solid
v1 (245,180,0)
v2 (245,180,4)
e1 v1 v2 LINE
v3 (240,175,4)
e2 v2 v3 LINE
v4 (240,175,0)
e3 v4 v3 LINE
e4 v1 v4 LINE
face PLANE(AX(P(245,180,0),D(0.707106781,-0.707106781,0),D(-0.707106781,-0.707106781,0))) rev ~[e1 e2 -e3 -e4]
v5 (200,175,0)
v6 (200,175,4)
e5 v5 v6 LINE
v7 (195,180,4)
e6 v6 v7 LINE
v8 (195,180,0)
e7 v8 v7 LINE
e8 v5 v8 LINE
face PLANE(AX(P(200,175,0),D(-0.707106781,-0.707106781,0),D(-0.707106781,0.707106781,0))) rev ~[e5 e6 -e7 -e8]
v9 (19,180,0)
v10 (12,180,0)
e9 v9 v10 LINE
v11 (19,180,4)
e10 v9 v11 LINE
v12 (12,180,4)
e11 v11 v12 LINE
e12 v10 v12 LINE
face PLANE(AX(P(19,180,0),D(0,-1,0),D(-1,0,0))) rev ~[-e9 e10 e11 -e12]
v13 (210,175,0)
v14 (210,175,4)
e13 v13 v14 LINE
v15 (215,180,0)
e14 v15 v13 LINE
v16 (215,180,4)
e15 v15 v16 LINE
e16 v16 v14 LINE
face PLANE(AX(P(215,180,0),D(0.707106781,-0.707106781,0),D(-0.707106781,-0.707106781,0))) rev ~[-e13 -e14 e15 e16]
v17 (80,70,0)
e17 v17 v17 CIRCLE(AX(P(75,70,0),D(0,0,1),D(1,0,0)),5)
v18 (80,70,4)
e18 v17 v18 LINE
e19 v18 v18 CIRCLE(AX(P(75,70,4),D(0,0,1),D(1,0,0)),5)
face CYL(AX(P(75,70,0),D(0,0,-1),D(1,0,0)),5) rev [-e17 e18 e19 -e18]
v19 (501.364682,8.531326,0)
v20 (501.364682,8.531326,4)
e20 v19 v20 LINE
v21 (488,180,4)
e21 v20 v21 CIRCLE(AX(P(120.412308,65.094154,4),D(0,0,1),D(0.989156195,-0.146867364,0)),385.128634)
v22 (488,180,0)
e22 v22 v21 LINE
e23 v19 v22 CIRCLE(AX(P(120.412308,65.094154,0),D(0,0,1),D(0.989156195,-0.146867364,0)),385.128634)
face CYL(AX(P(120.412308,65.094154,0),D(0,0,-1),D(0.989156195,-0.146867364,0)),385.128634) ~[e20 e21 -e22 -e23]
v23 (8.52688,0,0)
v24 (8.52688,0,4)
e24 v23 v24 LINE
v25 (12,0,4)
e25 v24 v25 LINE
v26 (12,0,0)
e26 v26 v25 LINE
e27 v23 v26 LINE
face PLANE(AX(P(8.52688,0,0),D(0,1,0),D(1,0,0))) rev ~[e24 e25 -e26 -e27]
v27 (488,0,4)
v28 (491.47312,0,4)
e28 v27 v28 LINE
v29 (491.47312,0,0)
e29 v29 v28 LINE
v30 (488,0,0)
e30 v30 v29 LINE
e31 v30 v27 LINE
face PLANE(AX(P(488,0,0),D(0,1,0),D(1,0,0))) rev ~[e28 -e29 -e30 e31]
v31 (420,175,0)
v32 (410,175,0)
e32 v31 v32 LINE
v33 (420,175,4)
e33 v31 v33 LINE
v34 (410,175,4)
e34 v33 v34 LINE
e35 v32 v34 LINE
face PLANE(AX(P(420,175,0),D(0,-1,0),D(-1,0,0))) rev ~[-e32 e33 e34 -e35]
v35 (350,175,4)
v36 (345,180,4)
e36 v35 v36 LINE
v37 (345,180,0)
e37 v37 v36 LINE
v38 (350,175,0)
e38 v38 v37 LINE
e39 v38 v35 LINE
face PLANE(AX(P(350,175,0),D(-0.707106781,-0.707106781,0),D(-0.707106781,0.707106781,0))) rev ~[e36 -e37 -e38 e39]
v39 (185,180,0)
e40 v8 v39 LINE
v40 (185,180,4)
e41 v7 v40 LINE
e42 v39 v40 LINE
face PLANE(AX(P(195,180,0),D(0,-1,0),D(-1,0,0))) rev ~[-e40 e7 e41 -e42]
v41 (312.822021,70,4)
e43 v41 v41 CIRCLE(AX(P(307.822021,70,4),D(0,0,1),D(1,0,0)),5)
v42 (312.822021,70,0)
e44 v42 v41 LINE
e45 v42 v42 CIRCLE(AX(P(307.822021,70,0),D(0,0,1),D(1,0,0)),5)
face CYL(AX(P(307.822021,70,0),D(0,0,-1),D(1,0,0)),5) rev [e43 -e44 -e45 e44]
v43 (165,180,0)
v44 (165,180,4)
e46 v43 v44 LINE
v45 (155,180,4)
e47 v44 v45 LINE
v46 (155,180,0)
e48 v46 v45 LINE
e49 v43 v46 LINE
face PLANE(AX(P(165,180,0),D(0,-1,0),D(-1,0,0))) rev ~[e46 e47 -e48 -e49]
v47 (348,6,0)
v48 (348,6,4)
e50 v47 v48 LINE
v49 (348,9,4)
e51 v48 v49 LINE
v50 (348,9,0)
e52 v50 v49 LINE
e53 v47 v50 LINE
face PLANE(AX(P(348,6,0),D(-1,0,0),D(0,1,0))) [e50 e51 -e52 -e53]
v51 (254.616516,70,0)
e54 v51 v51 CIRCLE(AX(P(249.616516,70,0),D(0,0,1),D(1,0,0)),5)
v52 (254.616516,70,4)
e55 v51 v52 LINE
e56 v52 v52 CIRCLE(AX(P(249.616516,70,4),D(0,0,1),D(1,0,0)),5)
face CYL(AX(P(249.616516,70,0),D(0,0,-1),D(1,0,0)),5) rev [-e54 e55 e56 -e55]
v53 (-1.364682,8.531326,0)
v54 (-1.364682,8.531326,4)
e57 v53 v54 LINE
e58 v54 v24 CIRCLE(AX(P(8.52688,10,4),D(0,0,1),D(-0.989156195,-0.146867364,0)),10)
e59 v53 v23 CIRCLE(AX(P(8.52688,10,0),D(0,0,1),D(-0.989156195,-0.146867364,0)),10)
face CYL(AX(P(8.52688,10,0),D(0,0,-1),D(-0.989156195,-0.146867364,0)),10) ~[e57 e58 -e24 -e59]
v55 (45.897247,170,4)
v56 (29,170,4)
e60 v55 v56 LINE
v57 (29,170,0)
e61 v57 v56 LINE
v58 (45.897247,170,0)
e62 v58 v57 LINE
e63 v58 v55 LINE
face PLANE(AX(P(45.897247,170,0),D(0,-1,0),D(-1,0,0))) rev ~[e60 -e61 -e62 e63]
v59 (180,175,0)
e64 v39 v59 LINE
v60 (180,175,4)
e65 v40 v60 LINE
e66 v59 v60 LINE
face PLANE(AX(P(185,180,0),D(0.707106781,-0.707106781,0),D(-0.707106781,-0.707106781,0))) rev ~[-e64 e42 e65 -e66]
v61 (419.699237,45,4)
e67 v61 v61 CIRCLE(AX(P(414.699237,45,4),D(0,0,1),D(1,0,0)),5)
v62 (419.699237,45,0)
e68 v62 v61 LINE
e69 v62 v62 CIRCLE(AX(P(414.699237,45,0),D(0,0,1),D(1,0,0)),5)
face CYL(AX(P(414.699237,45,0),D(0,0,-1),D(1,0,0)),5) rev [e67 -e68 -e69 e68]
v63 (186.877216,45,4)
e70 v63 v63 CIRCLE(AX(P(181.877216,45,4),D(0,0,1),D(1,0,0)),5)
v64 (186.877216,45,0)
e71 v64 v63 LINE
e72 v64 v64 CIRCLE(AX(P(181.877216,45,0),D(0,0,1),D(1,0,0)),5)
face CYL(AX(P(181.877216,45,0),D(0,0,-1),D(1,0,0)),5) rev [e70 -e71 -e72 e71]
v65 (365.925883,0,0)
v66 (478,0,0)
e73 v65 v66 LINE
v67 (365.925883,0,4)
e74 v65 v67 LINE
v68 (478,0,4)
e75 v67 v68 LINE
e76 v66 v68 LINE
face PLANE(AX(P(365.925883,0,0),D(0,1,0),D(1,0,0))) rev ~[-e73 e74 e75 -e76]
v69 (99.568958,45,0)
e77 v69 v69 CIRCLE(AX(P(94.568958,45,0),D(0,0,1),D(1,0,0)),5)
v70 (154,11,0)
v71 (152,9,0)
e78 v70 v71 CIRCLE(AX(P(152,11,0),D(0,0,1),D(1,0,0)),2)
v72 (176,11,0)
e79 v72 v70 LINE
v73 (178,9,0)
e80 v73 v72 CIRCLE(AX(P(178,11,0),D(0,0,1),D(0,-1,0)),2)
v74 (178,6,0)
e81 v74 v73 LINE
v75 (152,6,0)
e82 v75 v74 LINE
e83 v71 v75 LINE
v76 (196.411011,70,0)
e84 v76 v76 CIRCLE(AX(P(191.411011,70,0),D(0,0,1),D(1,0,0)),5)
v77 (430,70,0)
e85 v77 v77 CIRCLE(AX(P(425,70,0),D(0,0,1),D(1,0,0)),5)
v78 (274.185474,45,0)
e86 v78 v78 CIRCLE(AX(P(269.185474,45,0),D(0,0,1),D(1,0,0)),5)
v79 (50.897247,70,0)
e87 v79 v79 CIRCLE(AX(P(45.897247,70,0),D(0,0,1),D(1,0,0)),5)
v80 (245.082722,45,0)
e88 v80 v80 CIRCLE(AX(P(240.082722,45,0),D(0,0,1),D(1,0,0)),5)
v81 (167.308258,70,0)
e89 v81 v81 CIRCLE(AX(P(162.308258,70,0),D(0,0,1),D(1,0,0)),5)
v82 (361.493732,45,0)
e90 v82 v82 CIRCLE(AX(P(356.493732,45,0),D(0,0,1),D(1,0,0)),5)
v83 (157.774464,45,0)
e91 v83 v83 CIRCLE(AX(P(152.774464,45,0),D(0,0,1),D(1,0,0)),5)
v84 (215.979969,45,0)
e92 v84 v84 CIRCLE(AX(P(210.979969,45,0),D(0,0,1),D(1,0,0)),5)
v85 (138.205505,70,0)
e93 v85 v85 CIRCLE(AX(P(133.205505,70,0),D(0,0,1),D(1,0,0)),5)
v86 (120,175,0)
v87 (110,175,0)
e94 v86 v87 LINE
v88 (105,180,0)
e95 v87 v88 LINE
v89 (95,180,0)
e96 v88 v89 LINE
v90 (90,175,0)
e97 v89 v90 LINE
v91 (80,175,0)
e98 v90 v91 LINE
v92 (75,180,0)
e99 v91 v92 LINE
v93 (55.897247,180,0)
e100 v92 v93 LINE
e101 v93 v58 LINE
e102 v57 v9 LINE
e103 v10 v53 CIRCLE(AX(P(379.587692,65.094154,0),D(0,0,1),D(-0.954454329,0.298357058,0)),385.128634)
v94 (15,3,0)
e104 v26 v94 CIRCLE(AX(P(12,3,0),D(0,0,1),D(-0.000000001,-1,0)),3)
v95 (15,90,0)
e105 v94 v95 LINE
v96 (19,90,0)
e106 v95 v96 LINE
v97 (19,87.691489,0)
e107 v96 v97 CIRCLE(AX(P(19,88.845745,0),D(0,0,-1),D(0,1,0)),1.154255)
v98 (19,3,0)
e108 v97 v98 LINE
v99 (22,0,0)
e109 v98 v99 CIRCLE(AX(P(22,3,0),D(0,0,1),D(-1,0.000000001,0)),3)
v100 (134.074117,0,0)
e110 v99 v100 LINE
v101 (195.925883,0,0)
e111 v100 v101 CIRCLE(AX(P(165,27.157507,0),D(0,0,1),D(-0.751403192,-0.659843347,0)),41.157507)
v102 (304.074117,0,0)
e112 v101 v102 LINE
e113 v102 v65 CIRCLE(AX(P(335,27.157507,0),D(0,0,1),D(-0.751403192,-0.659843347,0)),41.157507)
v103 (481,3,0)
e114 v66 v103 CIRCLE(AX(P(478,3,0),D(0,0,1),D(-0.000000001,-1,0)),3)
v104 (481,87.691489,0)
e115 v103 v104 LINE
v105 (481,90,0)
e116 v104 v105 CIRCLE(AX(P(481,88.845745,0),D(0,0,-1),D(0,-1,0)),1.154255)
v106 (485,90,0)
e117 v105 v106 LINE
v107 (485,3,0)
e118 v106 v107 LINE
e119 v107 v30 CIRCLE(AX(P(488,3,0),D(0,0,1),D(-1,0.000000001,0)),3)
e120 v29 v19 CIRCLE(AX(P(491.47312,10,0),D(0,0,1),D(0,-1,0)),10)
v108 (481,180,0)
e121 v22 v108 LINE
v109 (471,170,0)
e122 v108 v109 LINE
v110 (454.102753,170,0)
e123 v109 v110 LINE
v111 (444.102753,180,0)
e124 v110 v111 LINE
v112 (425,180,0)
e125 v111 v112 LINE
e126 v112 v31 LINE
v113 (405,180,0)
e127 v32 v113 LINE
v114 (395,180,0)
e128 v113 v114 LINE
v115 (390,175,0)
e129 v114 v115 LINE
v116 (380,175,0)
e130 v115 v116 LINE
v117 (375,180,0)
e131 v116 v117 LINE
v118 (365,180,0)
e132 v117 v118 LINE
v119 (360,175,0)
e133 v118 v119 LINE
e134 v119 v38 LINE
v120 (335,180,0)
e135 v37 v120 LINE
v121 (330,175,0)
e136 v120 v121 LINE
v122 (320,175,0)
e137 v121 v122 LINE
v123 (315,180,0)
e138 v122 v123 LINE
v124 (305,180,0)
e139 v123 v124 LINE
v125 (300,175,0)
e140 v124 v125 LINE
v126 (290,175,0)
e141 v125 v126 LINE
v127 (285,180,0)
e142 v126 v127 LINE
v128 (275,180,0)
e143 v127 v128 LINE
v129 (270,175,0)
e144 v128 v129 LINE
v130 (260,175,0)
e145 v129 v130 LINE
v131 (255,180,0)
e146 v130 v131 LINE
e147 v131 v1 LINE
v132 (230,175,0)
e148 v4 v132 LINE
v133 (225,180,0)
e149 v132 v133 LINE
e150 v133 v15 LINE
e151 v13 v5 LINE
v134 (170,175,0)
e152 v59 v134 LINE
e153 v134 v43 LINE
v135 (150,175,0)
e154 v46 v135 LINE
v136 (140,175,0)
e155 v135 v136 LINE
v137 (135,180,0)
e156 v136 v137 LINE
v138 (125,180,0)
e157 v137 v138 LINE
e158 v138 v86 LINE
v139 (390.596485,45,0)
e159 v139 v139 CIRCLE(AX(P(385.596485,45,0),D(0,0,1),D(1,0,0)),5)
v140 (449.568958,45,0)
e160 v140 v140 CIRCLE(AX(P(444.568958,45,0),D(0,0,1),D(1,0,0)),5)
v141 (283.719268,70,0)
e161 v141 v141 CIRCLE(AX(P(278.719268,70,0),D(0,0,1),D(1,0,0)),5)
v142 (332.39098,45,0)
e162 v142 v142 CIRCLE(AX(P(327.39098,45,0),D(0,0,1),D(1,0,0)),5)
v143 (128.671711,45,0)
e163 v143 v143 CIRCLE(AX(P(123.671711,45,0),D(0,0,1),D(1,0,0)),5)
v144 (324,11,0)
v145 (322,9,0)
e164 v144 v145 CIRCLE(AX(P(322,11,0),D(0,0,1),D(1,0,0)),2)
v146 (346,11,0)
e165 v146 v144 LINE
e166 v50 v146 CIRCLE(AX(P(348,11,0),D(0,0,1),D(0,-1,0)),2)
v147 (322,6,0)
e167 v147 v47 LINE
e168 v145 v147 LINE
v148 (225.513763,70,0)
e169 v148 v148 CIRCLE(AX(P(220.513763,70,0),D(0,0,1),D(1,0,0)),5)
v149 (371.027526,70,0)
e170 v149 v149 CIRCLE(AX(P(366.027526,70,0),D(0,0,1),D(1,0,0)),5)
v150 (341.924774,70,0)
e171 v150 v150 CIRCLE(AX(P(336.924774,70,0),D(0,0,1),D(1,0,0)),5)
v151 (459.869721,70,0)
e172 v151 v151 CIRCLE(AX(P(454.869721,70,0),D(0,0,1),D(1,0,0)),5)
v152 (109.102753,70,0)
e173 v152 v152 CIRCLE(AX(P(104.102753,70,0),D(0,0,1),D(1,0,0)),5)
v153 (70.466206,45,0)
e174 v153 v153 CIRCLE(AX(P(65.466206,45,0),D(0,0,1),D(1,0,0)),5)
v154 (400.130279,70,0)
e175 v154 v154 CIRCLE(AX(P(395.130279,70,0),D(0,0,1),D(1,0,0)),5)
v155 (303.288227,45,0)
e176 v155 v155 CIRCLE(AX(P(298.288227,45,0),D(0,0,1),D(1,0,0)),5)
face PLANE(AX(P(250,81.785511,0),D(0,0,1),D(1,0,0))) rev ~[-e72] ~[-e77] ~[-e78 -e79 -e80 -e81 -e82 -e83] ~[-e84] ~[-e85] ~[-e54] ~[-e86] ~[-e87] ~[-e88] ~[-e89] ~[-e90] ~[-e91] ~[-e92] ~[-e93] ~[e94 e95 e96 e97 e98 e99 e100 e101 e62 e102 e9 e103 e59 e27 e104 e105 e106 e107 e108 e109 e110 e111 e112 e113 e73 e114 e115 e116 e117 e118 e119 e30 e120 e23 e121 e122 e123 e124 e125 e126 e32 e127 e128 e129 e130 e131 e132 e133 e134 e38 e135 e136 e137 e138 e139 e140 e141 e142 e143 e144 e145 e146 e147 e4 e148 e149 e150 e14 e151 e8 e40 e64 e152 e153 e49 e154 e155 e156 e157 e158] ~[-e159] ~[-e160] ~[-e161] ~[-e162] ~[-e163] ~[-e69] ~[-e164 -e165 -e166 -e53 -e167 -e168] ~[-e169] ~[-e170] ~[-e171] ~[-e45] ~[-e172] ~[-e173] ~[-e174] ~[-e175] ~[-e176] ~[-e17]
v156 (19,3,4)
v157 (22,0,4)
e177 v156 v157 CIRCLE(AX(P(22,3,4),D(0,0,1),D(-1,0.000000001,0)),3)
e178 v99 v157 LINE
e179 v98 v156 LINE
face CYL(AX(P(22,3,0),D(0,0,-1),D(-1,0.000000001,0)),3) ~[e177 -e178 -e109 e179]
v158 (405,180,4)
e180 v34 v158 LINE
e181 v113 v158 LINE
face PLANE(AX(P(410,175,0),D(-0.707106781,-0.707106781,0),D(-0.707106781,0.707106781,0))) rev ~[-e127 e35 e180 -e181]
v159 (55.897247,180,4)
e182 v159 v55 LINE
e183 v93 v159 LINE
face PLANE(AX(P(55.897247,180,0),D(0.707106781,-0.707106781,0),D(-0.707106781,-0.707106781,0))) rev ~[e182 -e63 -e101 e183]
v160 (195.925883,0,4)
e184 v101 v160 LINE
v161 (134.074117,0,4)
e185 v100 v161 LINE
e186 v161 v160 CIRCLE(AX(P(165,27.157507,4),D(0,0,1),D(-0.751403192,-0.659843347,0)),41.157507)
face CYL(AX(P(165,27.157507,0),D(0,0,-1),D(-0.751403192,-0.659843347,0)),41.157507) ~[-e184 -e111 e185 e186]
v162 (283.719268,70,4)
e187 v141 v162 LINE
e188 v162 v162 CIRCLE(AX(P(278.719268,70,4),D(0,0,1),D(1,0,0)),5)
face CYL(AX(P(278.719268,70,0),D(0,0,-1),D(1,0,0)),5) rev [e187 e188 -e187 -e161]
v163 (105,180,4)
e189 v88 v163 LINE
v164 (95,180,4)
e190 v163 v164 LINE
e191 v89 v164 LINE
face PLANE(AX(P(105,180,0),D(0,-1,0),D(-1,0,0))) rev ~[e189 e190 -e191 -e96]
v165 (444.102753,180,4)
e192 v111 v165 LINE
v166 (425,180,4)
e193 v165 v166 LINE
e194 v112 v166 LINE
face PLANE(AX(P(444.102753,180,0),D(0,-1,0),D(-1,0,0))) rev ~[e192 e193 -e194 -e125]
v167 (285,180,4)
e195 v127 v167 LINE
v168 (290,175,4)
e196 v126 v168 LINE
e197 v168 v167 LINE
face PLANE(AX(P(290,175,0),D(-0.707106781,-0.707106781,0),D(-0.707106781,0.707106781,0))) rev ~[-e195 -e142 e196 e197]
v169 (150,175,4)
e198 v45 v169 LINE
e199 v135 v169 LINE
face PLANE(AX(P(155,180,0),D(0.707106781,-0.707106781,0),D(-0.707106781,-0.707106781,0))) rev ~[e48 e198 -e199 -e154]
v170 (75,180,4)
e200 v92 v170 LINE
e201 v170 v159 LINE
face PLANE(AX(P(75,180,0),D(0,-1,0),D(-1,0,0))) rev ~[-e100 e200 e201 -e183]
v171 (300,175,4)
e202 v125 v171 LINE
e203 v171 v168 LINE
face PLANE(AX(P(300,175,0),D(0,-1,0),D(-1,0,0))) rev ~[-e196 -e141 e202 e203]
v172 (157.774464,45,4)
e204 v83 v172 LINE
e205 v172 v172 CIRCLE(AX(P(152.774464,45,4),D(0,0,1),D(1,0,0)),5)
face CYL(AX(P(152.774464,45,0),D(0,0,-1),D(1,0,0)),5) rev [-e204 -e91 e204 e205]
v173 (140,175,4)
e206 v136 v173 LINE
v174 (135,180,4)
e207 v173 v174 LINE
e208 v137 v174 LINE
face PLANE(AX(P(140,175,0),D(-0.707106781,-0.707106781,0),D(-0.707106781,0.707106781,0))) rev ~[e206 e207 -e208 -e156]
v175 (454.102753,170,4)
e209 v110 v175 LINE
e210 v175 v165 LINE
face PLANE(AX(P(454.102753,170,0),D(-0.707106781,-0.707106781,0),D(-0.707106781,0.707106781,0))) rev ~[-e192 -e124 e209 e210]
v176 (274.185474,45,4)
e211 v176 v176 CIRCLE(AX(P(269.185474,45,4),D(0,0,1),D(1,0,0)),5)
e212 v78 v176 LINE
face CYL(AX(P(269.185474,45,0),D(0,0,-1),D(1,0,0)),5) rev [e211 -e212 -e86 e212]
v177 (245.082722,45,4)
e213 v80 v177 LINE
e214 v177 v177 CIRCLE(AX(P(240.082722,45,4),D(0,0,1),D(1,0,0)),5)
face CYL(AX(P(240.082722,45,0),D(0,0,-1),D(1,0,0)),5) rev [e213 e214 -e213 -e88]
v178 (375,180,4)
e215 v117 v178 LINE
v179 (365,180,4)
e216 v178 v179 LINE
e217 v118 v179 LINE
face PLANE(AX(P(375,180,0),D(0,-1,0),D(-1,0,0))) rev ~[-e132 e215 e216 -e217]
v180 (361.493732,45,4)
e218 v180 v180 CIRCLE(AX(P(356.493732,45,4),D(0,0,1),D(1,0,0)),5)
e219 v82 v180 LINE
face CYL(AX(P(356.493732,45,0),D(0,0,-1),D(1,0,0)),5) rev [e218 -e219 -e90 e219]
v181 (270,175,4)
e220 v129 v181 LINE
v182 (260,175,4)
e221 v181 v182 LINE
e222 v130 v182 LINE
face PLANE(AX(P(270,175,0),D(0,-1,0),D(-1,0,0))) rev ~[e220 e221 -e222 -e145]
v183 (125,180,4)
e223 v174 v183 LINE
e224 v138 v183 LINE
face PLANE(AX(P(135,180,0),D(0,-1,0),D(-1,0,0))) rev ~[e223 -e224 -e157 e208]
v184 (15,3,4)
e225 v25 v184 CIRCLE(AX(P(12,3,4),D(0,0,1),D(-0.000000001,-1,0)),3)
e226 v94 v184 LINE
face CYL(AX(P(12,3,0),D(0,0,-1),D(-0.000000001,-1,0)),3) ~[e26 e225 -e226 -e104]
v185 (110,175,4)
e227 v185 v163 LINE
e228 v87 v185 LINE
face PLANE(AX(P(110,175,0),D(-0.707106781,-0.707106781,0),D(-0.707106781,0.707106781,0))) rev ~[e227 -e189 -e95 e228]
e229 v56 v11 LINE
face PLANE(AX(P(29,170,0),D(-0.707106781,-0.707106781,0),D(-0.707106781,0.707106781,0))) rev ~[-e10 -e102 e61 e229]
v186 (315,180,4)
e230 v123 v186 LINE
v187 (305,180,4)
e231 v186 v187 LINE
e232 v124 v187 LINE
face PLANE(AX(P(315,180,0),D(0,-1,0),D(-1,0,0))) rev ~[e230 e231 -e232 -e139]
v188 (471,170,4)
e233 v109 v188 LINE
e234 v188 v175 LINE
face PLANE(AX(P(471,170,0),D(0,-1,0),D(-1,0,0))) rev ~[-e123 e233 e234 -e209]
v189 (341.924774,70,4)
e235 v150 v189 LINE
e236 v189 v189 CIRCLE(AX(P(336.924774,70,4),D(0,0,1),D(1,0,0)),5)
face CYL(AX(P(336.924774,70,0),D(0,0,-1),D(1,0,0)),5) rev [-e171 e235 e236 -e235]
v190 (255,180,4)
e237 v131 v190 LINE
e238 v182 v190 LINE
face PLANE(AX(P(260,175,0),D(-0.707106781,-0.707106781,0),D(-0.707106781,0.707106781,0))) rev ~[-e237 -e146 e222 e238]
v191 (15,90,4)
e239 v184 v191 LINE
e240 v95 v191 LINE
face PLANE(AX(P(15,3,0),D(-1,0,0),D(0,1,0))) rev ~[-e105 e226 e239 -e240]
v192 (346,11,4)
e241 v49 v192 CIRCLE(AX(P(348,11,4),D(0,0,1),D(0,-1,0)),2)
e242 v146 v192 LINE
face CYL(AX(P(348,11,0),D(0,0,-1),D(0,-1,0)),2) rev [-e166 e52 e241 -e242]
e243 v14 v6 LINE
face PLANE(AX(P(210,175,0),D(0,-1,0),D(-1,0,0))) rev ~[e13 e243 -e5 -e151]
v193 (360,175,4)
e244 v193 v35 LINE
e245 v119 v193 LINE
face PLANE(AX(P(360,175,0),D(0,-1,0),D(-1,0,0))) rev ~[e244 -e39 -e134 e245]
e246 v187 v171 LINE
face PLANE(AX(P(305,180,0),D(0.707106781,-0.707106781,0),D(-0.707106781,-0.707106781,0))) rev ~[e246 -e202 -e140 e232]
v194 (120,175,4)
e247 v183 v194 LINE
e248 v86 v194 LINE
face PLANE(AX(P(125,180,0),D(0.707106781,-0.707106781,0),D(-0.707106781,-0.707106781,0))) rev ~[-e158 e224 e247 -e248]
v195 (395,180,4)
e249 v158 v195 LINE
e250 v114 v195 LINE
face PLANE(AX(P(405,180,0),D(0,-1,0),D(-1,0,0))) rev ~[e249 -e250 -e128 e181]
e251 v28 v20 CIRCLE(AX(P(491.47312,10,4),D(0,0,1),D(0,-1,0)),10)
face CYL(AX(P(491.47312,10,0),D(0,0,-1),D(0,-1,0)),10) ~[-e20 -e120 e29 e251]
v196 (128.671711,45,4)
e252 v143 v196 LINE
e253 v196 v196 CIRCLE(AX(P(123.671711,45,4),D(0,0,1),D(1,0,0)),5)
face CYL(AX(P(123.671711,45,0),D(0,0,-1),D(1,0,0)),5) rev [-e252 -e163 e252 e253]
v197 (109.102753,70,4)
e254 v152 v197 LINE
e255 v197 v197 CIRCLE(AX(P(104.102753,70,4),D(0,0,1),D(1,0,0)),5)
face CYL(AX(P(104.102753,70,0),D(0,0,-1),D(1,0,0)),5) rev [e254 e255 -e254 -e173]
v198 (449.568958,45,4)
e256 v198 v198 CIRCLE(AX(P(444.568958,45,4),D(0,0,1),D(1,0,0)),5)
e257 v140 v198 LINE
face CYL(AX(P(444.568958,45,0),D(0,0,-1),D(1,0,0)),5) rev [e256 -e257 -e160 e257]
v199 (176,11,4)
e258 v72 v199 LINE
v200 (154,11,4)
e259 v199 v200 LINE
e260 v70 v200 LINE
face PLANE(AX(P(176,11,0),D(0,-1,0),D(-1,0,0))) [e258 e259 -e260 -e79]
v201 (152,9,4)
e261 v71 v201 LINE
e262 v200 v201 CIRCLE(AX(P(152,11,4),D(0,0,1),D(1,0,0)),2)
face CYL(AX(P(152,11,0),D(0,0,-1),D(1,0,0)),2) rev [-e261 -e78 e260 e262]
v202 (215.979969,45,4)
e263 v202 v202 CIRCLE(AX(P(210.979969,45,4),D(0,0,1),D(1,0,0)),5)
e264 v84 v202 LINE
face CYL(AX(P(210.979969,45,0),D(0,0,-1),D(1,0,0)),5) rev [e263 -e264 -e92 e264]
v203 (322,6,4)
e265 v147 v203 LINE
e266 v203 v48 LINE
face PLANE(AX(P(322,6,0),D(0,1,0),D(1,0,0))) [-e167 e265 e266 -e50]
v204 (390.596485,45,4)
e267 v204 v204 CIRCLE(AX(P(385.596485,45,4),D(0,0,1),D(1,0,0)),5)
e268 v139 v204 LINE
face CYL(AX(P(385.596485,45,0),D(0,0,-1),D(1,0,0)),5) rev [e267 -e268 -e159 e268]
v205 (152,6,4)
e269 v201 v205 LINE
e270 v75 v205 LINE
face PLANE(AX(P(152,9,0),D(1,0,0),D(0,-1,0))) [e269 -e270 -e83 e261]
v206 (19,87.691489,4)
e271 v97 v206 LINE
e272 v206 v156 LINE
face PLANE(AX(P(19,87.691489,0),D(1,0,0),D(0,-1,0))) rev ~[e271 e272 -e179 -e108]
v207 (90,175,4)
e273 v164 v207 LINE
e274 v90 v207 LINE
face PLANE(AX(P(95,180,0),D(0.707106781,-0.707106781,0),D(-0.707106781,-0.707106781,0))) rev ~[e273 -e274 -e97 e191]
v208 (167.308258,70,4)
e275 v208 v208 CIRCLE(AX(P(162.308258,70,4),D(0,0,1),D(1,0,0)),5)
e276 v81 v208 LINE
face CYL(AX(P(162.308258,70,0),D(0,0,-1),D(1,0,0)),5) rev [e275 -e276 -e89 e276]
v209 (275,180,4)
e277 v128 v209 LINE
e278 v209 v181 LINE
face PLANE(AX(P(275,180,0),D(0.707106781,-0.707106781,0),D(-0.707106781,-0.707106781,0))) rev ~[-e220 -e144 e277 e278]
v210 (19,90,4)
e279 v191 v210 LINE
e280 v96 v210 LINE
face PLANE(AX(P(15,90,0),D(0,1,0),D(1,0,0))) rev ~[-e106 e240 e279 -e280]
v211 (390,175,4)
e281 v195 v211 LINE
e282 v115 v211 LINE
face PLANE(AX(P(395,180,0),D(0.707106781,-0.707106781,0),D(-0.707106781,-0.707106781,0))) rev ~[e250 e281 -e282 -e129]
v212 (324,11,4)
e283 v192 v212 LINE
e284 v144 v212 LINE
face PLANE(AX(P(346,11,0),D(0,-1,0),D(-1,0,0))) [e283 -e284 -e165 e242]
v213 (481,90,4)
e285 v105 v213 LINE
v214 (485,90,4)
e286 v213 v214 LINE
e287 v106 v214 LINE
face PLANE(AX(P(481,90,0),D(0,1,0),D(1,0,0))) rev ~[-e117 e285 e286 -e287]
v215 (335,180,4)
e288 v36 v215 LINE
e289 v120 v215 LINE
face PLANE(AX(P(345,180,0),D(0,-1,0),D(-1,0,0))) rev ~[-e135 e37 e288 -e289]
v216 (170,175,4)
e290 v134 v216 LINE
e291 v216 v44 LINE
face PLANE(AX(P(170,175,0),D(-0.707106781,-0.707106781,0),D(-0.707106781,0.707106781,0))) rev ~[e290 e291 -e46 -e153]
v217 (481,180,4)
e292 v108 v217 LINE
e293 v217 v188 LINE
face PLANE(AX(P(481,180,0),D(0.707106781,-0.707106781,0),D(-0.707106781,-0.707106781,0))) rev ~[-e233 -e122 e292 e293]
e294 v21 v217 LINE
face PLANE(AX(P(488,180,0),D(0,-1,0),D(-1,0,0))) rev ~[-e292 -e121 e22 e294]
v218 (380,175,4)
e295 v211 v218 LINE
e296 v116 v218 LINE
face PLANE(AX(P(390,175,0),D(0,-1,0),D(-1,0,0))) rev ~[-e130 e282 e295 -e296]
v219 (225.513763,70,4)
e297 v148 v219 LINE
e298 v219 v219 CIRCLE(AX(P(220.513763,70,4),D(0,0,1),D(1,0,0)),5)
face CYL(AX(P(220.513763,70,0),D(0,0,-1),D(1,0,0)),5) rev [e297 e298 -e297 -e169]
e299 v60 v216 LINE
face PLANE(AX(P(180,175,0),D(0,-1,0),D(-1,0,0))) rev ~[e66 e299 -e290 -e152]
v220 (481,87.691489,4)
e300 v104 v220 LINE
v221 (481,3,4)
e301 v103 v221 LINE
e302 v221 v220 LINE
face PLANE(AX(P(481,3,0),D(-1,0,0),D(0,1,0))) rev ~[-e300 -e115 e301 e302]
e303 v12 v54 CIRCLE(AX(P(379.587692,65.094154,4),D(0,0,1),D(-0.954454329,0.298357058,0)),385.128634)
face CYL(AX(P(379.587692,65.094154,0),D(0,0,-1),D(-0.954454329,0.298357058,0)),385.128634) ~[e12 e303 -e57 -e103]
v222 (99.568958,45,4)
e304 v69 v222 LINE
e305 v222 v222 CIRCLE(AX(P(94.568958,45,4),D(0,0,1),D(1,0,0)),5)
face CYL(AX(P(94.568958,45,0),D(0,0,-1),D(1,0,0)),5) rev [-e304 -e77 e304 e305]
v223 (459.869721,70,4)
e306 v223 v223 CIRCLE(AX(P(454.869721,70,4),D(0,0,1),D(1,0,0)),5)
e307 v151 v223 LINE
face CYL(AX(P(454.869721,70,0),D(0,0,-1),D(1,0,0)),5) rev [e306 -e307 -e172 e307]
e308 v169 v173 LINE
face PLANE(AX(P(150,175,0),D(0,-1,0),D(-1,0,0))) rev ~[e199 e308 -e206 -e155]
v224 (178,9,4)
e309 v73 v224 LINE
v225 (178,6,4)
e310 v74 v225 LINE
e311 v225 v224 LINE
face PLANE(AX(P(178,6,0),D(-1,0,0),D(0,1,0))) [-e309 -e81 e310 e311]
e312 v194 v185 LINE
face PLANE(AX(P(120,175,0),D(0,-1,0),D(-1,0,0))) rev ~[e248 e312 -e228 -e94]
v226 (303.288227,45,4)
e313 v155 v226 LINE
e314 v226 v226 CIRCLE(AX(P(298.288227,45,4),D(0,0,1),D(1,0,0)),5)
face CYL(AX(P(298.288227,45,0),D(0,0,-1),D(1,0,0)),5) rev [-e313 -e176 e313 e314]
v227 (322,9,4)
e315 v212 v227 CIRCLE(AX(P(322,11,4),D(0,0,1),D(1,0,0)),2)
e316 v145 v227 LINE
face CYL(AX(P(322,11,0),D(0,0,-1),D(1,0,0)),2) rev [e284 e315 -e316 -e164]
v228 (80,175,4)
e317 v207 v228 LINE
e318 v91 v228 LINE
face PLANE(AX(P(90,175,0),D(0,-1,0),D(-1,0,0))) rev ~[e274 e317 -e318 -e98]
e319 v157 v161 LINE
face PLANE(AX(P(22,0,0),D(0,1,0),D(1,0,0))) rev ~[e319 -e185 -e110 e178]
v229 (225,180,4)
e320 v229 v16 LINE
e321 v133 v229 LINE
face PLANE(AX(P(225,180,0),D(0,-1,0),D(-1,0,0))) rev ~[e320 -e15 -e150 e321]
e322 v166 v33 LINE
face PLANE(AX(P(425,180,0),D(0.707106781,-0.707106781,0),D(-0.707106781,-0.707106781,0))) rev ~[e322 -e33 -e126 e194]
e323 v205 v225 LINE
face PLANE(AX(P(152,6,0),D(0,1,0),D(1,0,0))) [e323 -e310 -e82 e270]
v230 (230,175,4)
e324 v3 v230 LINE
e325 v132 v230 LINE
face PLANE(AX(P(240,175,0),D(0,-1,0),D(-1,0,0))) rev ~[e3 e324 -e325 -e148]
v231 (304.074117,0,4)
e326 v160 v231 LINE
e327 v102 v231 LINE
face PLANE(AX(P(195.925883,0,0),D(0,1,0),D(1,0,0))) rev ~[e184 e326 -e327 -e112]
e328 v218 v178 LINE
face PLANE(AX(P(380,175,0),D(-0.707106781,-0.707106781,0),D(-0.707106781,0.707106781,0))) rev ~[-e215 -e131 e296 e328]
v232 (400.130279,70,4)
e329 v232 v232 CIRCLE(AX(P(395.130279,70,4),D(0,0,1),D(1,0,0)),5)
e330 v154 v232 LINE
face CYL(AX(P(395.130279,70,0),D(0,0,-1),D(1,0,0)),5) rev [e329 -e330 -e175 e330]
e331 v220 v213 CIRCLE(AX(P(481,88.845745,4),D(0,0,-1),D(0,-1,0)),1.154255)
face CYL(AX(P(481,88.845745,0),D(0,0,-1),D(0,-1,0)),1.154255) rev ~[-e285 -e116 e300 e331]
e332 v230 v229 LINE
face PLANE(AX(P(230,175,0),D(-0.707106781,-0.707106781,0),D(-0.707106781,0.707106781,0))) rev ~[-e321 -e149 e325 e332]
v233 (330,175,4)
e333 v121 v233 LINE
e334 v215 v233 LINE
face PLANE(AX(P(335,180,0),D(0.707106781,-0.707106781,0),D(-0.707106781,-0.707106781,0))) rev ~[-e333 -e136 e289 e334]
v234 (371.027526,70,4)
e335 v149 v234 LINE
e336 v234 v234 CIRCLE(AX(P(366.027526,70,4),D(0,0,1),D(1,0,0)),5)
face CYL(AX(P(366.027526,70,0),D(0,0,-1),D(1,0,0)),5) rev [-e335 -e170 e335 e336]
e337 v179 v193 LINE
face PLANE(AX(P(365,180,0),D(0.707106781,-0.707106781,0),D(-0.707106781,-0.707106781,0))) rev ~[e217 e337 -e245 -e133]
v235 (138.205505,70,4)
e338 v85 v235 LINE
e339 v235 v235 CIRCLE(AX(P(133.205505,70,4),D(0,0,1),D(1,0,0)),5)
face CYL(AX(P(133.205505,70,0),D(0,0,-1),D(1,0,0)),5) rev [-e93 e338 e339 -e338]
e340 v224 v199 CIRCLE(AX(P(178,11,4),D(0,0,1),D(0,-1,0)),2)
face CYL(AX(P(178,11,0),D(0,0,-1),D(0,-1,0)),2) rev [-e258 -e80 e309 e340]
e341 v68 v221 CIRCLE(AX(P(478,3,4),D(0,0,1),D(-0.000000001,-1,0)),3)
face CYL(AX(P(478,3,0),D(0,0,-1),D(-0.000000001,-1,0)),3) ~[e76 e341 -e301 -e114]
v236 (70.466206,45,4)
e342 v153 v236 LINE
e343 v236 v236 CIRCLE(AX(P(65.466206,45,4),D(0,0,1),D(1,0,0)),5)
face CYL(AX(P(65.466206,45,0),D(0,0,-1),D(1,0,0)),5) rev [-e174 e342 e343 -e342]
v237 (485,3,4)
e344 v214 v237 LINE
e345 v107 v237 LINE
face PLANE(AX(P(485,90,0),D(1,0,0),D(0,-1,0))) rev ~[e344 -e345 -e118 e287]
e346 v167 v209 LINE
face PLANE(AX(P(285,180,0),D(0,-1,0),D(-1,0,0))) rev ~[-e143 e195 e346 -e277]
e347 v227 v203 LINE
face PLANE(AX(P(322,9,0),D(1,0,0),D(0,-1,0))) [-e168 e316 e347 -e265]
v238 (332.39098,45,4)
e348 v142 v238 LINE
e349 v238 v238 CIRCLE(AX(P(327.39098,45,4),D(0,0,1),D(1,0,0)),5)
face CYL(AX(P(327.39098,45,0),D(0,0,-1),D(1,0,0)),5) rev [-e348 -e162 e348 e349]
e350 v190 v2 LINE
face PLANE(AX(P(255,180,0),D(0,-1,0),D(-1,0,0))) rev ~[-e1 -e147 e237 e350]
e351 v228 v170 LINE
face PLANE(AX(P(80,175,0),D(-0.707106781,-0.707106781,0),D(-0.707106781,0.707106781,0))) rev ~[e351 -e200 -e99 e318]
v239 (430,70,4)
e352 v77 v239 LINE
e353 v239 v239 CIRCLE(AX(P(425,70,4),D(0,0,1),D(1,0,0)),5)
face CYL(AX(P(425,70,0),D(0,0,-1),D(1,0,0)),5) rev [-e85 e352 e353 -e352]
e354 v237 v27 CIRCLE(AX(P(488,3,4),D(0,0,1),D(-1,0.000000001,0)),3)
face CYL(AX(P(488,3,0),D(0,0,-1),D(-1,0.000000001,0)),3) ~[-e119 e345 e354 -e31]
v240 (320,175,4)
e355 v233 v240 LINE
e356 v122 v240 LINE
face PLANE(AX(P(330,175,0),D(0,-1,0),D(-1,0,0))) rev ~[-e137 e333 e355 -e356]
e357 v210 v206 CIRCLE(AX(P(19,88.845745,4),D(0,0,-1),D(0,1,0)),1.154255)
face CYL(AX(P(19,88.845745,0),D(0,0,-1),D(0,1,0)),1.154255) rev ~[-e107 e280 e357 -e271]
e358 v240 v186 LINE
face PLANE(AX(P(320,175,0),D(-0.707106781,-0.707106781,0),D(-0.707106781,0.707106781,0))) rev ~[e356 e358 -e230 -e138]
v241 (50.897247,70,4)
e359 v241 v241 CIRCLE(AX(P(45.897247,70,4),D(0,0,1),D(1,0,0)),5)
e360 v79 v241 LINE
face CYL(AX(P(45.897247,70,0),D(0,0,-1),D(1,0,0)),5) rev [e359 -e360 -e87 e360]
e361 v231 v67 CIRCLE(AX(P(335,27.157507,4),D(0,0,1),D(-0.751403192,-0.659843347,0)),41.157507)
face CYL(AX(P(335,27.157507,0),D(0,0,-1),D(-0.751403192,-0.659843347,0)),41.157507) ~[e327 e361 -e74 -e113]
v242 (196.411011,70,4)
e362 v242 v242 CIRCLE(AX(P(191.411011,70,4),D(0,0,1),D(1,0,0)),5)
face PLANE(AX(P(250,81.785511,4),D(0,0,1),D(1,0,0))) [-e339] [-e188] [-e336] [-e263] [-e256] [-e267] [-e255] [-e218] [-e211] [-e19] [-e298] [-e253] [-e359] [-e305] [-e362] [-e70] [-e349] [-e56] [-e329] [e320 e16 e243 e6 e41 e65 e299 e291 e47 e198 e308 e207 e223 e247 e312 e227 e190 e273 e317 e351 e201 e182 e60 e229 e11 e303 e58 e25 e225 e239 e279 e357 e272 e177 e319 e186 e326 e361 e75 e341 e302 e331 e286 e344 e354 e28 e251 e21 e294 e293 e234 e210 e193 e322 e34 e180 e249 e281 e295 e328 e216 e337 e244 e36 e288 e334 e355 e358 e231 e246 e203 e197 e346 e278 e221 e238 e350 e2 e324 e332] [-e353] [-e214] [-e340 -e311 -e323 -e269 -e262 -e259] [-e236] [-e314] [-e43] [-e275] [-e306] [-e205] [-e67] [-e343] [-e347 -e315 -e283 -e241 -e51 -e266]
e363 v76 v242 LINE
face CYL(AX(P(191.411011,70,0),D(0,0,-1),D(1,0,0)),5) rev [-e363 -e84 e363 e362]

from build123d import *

# Parameters (mm, degrees)
SKETCH_1_R      = 5
EXTRUDE_1_DEPTH = 4


with BuildPart() as part:
    # Эскиз1 → Бобышка-Вытянуть1 (new body)
    with BuildSketch(Plane.XY):
        with BuildLine():
            Line((8.526879851, 0), (12, 0))
            ThreePointArc((12, 0), (14.121320344, 0.878679656), (15, 3))
            Line((15, 3), (15, 90))
            Line((15, 90), (19, 90))
            ThreePointArc((19, 90), (20.154255418, 88.845744582), (19, 87.691489165))
            Line((19, 87.691489165), (19, 3))
            ThreePointArc((19, 3), (19.878679656, 0.878679656), (22, 0))
            Line((22, 0), (134.07411748, 0))
            ThreePointArc((134.07411748, 0), (165, -14), (195.92588252, 0))
            Line((195.92588252, 0), (304.07411748, 0))
            ThreePointArc((304.07411748, 0), (335, -14), (365.92588252, 0))
            Line((365.92588252, 0), (478, 0))
            ThreePointArc((478, 0), (480.121320344, 0.878679656), (481, 3))
            Line((481, 3), (481, 87.691489165))
            ThreePointArc((481, 87.691489165), (479.845744582, 88.845744582), (481, 90))
            Line((481, 90), (485, 90))
            Line((485, 90), (485, 3))
            ThreePointArc((485, 3), (485.878679656, 0.878679656), (488, 0))
            Line((488, 0), (491.473120149, 0))
            ThreePointArc((491.473120149, 0), (498.004324615, 2.427459592), (501.364682095, 8.531326355))
            ThreePointArc((501.364682095, 8.531326355), (504.376413281, 95.021242555), (488, 180))
            Line((488, 180), (481, 180))
            Line((481, 180), (471, 170))
            Line((471, 170), (454.102752641, 170))
            Line((454.102752641, 170), (444.102752641, 180))
            Line((444.102752641, 180), (425, 180))
            Line((425, 180), (420, 175))
            Line((420, 175), (410, 175))
            Line((410, 175), (405, 180))
            Line((405, 180), (395, 180))
            Line((395, 180), (390, 175))
            Line((390, 175), (380, 175))
            Line((380, 175), (375, 180))
            Line((375, 180), (365, 180))
            Line((365, 180), (360, 175))
            Line((360, 175), (350, 175))
            Line((350, 175), (345, 180))
            Line((345, 180), (335, 180))
            Line((335, 180), (330, 175))
            Line((330, 175), (320, 175))
            Line((320, 175), (315, 180))
            Line((315, 180), (305, 180))
            Line((305, 180), (300, 175))
            Line((300, 175), (290, 175))
            Line((290, 175), (285, 180))
            Line((285, 180), (275, 180))
            Line((275, 180), (270, 175))
            Line((270, 175), (260, 175))
            Line((260, 175), (255, 180))
            Line((255, 180), (245, 180))
            Line((245, 180), (240, 175))
            Line((240, 175), (230, 175))
            Line((230, 175), (225, 180))
            Line((225, 180), (215, 180))
            Line((215, 180), (210, 175))
            Line((210, 175), (200, 175))
            Line((200, 175), (195, 180))
            Line((195, 180), (185, 180))
            Line((185, 180), (180, 175))
            Line((180, 175), (170, 175))
            Line((170, 175), (165, 180))
            Line((165, 180), (155, 180))
            Line((155, 180), (150, 175))
            Line((150, 175), (140, 175))
            Line((140, 175), (135, 180))
            Line((135, 180), (125, 180))
            Line((125, 180), (120, 175))
            Line((120, 175), (110, 175))
            Line((110, 175), (105, 180))
            Line((105, 180), (95, 180))
            Line((95, 180), (90, 175))
            Line((90, 175), (80, 175))
            Line((80, 175), (75, 180))
            Line((75, 180), (55.897247359, 180))
            Line((55.897247359, 180), (45.897247359, 170))
            Line((45.897247359, 170), (29, 170))
            Line((29, 170), (19, 180))
            Line((19, 180), (12, 180))
            ThreePointArc((12, 180), (-4.376413281, 95.021242555), (-1.364682095, 8.531326355))
            ThreePointArc((-1.364682095, 8.531326355), (1.995675385, 2.427459592), (8.526879851, 0))
        make_face()
        with Locations((45.897247359, 70)):
            Circle(SKETCH_1_R, mode=Mode.SUBTRACT)
        with Locations((65.46620575, 45)):
            Circle(SKETCH_1_R, mode=Mode.SUBTRACT)
        with Locations((75, 70)):
            Circle(SKETCH_1_R, mode=Mode.SUBTRACT)
        with Locations((94.568958391, 45)):
            Circle(SKETCH_1_R, mode=Mode.SUBTRACT)
        with Locations((104.102752641, 70)):
            Circle(SKETCH_1_R, mode=Mode.SUBTRACT)
        with Locations((123.671711032, 45)):
            Circle(SKETCH_1_R, mode=Mode.SUBTRACT)
        with Locations((133.205505282, 70)):
            Circle(SKETCH_1_R, mode=Mode.SUBTRACT)
        with Locations((152.774463674, 45)):
            Circle(SKETCH_1_R, mode=Mode.SUBTRACT)
        with Locations((162.308257923, 70)):
            Circle(SKETCH_1_R, mode=Mode.SUBTRACT)
        with Locations((181.877216315, 45)):
            Circle(SKETCH_1_R, mode=Mode.SUBTRACT)
        with Locations((191.411010565, 70)):
            Circle(SKETCH_1_R, mode=Mode.SUBTRACT)
        with Locations((210.979968956, 45)):
            Circle(SKETCH_1_R, mode=Mode.SUBTRACT)
        with Locations((220.513763206, 70)):
            Circle(SKETCH_1_R, mode=Mode.SUBTRACT)
        with Locations((240.082721597, 45)):
            Circle(SKETCH_1_R, mode=Mode.SUBTRACT)
        with Locations((249.616515847, 70)):
            Circle(SKETCH_1_R, mode=Mode.SUBTRACT)
        with Locations((269.185474238, 45)):
            Circle(SKETCH_1_R, mode=Mode.SUBTRACT)
        with Locations((278.719268488, 70)):
            Circle(SKETCH_1_R, mode=Mode.SUBTRACT)
        with Locations((298.288226879, 45)):
            Circle(SKETCH_1_R, mode=Mode.SUBTRACT)
        with Locations((307.822021129, 70)):
            Circle(SKETCH_1_R, mode=Mode.SUBTRACT)
        with Locations((327.39097952, 45)):
            Circle(SKETCH_1_R, mode=Mode.SUBTRACT)
        with Locations((336.92477377, 70)):
            Circle(SKETCH_1_R, mode=Mode.SUBTRACT)
        with Locations((356.493732162, 45)):
            Circle(SKETCH_1_R, mode=Mode.SUBTRACT)
        with Locations((366.027526411, 70)):
            Circle(SKETCH_1_R, mode=Mode.SUBTRACT)
        with Locations((385.596484803, 45)):
            Circle(SKETCH_1_R, mode=Mode.SUBTRACT)
        with Locations((395.130279053, 70)):
            Circle(SKETCH_1_R, mode=Mode.SUBTRACT)
        with Locations((414.699237444, 45)):
            Circle(SKETCH_1_R, mode=Mode.SUBTRACT)
        with Locations((425, 70)):
            Circle(SKETCH_1_R, mode=Mode.SUBTRACT)
        with Locations((444.568958391, 45)):
            Circle(SKETCH_1_R, mode=Mode.SUBTRACT)
        with Locations((454.869720947, 70)):
            Circle(SKETCH_1_R, mode=Mode.SUBTRACT)
        with BuildLine():
            Line((152, 6), (178, 6))
            Line((178, 6), (178, 9))
            ThreePointArc((178, 9), (179.414213562, 12.414213562), (176, 11))
            Line((176, 11), (154, 11))
            ThreePointArc((154, 11), (150.585786438, 12.414213562), (152, 9))
            Line((152, 9), (152, 6))
        make_face(mode=Mode.SUBTRACT)
        with BuildLine():
            Line((322, 6), (348, 6))
            Line((348, 6), (348, 9))
            ThreePointArc((348, 9), (349.414213562, 12.414213562), (346, 11))
            Line((346, 11), (324, 11))
            ThreePointArc((324, 11), (320.585786438, 12.414213562), (322, 9))
            Line((322, 9), (322, 6))
        make_face(mode=Mode.SUBTRACT)
    extrude(amount=EXTRUDE_1_DEPTH)


solid = part.part
